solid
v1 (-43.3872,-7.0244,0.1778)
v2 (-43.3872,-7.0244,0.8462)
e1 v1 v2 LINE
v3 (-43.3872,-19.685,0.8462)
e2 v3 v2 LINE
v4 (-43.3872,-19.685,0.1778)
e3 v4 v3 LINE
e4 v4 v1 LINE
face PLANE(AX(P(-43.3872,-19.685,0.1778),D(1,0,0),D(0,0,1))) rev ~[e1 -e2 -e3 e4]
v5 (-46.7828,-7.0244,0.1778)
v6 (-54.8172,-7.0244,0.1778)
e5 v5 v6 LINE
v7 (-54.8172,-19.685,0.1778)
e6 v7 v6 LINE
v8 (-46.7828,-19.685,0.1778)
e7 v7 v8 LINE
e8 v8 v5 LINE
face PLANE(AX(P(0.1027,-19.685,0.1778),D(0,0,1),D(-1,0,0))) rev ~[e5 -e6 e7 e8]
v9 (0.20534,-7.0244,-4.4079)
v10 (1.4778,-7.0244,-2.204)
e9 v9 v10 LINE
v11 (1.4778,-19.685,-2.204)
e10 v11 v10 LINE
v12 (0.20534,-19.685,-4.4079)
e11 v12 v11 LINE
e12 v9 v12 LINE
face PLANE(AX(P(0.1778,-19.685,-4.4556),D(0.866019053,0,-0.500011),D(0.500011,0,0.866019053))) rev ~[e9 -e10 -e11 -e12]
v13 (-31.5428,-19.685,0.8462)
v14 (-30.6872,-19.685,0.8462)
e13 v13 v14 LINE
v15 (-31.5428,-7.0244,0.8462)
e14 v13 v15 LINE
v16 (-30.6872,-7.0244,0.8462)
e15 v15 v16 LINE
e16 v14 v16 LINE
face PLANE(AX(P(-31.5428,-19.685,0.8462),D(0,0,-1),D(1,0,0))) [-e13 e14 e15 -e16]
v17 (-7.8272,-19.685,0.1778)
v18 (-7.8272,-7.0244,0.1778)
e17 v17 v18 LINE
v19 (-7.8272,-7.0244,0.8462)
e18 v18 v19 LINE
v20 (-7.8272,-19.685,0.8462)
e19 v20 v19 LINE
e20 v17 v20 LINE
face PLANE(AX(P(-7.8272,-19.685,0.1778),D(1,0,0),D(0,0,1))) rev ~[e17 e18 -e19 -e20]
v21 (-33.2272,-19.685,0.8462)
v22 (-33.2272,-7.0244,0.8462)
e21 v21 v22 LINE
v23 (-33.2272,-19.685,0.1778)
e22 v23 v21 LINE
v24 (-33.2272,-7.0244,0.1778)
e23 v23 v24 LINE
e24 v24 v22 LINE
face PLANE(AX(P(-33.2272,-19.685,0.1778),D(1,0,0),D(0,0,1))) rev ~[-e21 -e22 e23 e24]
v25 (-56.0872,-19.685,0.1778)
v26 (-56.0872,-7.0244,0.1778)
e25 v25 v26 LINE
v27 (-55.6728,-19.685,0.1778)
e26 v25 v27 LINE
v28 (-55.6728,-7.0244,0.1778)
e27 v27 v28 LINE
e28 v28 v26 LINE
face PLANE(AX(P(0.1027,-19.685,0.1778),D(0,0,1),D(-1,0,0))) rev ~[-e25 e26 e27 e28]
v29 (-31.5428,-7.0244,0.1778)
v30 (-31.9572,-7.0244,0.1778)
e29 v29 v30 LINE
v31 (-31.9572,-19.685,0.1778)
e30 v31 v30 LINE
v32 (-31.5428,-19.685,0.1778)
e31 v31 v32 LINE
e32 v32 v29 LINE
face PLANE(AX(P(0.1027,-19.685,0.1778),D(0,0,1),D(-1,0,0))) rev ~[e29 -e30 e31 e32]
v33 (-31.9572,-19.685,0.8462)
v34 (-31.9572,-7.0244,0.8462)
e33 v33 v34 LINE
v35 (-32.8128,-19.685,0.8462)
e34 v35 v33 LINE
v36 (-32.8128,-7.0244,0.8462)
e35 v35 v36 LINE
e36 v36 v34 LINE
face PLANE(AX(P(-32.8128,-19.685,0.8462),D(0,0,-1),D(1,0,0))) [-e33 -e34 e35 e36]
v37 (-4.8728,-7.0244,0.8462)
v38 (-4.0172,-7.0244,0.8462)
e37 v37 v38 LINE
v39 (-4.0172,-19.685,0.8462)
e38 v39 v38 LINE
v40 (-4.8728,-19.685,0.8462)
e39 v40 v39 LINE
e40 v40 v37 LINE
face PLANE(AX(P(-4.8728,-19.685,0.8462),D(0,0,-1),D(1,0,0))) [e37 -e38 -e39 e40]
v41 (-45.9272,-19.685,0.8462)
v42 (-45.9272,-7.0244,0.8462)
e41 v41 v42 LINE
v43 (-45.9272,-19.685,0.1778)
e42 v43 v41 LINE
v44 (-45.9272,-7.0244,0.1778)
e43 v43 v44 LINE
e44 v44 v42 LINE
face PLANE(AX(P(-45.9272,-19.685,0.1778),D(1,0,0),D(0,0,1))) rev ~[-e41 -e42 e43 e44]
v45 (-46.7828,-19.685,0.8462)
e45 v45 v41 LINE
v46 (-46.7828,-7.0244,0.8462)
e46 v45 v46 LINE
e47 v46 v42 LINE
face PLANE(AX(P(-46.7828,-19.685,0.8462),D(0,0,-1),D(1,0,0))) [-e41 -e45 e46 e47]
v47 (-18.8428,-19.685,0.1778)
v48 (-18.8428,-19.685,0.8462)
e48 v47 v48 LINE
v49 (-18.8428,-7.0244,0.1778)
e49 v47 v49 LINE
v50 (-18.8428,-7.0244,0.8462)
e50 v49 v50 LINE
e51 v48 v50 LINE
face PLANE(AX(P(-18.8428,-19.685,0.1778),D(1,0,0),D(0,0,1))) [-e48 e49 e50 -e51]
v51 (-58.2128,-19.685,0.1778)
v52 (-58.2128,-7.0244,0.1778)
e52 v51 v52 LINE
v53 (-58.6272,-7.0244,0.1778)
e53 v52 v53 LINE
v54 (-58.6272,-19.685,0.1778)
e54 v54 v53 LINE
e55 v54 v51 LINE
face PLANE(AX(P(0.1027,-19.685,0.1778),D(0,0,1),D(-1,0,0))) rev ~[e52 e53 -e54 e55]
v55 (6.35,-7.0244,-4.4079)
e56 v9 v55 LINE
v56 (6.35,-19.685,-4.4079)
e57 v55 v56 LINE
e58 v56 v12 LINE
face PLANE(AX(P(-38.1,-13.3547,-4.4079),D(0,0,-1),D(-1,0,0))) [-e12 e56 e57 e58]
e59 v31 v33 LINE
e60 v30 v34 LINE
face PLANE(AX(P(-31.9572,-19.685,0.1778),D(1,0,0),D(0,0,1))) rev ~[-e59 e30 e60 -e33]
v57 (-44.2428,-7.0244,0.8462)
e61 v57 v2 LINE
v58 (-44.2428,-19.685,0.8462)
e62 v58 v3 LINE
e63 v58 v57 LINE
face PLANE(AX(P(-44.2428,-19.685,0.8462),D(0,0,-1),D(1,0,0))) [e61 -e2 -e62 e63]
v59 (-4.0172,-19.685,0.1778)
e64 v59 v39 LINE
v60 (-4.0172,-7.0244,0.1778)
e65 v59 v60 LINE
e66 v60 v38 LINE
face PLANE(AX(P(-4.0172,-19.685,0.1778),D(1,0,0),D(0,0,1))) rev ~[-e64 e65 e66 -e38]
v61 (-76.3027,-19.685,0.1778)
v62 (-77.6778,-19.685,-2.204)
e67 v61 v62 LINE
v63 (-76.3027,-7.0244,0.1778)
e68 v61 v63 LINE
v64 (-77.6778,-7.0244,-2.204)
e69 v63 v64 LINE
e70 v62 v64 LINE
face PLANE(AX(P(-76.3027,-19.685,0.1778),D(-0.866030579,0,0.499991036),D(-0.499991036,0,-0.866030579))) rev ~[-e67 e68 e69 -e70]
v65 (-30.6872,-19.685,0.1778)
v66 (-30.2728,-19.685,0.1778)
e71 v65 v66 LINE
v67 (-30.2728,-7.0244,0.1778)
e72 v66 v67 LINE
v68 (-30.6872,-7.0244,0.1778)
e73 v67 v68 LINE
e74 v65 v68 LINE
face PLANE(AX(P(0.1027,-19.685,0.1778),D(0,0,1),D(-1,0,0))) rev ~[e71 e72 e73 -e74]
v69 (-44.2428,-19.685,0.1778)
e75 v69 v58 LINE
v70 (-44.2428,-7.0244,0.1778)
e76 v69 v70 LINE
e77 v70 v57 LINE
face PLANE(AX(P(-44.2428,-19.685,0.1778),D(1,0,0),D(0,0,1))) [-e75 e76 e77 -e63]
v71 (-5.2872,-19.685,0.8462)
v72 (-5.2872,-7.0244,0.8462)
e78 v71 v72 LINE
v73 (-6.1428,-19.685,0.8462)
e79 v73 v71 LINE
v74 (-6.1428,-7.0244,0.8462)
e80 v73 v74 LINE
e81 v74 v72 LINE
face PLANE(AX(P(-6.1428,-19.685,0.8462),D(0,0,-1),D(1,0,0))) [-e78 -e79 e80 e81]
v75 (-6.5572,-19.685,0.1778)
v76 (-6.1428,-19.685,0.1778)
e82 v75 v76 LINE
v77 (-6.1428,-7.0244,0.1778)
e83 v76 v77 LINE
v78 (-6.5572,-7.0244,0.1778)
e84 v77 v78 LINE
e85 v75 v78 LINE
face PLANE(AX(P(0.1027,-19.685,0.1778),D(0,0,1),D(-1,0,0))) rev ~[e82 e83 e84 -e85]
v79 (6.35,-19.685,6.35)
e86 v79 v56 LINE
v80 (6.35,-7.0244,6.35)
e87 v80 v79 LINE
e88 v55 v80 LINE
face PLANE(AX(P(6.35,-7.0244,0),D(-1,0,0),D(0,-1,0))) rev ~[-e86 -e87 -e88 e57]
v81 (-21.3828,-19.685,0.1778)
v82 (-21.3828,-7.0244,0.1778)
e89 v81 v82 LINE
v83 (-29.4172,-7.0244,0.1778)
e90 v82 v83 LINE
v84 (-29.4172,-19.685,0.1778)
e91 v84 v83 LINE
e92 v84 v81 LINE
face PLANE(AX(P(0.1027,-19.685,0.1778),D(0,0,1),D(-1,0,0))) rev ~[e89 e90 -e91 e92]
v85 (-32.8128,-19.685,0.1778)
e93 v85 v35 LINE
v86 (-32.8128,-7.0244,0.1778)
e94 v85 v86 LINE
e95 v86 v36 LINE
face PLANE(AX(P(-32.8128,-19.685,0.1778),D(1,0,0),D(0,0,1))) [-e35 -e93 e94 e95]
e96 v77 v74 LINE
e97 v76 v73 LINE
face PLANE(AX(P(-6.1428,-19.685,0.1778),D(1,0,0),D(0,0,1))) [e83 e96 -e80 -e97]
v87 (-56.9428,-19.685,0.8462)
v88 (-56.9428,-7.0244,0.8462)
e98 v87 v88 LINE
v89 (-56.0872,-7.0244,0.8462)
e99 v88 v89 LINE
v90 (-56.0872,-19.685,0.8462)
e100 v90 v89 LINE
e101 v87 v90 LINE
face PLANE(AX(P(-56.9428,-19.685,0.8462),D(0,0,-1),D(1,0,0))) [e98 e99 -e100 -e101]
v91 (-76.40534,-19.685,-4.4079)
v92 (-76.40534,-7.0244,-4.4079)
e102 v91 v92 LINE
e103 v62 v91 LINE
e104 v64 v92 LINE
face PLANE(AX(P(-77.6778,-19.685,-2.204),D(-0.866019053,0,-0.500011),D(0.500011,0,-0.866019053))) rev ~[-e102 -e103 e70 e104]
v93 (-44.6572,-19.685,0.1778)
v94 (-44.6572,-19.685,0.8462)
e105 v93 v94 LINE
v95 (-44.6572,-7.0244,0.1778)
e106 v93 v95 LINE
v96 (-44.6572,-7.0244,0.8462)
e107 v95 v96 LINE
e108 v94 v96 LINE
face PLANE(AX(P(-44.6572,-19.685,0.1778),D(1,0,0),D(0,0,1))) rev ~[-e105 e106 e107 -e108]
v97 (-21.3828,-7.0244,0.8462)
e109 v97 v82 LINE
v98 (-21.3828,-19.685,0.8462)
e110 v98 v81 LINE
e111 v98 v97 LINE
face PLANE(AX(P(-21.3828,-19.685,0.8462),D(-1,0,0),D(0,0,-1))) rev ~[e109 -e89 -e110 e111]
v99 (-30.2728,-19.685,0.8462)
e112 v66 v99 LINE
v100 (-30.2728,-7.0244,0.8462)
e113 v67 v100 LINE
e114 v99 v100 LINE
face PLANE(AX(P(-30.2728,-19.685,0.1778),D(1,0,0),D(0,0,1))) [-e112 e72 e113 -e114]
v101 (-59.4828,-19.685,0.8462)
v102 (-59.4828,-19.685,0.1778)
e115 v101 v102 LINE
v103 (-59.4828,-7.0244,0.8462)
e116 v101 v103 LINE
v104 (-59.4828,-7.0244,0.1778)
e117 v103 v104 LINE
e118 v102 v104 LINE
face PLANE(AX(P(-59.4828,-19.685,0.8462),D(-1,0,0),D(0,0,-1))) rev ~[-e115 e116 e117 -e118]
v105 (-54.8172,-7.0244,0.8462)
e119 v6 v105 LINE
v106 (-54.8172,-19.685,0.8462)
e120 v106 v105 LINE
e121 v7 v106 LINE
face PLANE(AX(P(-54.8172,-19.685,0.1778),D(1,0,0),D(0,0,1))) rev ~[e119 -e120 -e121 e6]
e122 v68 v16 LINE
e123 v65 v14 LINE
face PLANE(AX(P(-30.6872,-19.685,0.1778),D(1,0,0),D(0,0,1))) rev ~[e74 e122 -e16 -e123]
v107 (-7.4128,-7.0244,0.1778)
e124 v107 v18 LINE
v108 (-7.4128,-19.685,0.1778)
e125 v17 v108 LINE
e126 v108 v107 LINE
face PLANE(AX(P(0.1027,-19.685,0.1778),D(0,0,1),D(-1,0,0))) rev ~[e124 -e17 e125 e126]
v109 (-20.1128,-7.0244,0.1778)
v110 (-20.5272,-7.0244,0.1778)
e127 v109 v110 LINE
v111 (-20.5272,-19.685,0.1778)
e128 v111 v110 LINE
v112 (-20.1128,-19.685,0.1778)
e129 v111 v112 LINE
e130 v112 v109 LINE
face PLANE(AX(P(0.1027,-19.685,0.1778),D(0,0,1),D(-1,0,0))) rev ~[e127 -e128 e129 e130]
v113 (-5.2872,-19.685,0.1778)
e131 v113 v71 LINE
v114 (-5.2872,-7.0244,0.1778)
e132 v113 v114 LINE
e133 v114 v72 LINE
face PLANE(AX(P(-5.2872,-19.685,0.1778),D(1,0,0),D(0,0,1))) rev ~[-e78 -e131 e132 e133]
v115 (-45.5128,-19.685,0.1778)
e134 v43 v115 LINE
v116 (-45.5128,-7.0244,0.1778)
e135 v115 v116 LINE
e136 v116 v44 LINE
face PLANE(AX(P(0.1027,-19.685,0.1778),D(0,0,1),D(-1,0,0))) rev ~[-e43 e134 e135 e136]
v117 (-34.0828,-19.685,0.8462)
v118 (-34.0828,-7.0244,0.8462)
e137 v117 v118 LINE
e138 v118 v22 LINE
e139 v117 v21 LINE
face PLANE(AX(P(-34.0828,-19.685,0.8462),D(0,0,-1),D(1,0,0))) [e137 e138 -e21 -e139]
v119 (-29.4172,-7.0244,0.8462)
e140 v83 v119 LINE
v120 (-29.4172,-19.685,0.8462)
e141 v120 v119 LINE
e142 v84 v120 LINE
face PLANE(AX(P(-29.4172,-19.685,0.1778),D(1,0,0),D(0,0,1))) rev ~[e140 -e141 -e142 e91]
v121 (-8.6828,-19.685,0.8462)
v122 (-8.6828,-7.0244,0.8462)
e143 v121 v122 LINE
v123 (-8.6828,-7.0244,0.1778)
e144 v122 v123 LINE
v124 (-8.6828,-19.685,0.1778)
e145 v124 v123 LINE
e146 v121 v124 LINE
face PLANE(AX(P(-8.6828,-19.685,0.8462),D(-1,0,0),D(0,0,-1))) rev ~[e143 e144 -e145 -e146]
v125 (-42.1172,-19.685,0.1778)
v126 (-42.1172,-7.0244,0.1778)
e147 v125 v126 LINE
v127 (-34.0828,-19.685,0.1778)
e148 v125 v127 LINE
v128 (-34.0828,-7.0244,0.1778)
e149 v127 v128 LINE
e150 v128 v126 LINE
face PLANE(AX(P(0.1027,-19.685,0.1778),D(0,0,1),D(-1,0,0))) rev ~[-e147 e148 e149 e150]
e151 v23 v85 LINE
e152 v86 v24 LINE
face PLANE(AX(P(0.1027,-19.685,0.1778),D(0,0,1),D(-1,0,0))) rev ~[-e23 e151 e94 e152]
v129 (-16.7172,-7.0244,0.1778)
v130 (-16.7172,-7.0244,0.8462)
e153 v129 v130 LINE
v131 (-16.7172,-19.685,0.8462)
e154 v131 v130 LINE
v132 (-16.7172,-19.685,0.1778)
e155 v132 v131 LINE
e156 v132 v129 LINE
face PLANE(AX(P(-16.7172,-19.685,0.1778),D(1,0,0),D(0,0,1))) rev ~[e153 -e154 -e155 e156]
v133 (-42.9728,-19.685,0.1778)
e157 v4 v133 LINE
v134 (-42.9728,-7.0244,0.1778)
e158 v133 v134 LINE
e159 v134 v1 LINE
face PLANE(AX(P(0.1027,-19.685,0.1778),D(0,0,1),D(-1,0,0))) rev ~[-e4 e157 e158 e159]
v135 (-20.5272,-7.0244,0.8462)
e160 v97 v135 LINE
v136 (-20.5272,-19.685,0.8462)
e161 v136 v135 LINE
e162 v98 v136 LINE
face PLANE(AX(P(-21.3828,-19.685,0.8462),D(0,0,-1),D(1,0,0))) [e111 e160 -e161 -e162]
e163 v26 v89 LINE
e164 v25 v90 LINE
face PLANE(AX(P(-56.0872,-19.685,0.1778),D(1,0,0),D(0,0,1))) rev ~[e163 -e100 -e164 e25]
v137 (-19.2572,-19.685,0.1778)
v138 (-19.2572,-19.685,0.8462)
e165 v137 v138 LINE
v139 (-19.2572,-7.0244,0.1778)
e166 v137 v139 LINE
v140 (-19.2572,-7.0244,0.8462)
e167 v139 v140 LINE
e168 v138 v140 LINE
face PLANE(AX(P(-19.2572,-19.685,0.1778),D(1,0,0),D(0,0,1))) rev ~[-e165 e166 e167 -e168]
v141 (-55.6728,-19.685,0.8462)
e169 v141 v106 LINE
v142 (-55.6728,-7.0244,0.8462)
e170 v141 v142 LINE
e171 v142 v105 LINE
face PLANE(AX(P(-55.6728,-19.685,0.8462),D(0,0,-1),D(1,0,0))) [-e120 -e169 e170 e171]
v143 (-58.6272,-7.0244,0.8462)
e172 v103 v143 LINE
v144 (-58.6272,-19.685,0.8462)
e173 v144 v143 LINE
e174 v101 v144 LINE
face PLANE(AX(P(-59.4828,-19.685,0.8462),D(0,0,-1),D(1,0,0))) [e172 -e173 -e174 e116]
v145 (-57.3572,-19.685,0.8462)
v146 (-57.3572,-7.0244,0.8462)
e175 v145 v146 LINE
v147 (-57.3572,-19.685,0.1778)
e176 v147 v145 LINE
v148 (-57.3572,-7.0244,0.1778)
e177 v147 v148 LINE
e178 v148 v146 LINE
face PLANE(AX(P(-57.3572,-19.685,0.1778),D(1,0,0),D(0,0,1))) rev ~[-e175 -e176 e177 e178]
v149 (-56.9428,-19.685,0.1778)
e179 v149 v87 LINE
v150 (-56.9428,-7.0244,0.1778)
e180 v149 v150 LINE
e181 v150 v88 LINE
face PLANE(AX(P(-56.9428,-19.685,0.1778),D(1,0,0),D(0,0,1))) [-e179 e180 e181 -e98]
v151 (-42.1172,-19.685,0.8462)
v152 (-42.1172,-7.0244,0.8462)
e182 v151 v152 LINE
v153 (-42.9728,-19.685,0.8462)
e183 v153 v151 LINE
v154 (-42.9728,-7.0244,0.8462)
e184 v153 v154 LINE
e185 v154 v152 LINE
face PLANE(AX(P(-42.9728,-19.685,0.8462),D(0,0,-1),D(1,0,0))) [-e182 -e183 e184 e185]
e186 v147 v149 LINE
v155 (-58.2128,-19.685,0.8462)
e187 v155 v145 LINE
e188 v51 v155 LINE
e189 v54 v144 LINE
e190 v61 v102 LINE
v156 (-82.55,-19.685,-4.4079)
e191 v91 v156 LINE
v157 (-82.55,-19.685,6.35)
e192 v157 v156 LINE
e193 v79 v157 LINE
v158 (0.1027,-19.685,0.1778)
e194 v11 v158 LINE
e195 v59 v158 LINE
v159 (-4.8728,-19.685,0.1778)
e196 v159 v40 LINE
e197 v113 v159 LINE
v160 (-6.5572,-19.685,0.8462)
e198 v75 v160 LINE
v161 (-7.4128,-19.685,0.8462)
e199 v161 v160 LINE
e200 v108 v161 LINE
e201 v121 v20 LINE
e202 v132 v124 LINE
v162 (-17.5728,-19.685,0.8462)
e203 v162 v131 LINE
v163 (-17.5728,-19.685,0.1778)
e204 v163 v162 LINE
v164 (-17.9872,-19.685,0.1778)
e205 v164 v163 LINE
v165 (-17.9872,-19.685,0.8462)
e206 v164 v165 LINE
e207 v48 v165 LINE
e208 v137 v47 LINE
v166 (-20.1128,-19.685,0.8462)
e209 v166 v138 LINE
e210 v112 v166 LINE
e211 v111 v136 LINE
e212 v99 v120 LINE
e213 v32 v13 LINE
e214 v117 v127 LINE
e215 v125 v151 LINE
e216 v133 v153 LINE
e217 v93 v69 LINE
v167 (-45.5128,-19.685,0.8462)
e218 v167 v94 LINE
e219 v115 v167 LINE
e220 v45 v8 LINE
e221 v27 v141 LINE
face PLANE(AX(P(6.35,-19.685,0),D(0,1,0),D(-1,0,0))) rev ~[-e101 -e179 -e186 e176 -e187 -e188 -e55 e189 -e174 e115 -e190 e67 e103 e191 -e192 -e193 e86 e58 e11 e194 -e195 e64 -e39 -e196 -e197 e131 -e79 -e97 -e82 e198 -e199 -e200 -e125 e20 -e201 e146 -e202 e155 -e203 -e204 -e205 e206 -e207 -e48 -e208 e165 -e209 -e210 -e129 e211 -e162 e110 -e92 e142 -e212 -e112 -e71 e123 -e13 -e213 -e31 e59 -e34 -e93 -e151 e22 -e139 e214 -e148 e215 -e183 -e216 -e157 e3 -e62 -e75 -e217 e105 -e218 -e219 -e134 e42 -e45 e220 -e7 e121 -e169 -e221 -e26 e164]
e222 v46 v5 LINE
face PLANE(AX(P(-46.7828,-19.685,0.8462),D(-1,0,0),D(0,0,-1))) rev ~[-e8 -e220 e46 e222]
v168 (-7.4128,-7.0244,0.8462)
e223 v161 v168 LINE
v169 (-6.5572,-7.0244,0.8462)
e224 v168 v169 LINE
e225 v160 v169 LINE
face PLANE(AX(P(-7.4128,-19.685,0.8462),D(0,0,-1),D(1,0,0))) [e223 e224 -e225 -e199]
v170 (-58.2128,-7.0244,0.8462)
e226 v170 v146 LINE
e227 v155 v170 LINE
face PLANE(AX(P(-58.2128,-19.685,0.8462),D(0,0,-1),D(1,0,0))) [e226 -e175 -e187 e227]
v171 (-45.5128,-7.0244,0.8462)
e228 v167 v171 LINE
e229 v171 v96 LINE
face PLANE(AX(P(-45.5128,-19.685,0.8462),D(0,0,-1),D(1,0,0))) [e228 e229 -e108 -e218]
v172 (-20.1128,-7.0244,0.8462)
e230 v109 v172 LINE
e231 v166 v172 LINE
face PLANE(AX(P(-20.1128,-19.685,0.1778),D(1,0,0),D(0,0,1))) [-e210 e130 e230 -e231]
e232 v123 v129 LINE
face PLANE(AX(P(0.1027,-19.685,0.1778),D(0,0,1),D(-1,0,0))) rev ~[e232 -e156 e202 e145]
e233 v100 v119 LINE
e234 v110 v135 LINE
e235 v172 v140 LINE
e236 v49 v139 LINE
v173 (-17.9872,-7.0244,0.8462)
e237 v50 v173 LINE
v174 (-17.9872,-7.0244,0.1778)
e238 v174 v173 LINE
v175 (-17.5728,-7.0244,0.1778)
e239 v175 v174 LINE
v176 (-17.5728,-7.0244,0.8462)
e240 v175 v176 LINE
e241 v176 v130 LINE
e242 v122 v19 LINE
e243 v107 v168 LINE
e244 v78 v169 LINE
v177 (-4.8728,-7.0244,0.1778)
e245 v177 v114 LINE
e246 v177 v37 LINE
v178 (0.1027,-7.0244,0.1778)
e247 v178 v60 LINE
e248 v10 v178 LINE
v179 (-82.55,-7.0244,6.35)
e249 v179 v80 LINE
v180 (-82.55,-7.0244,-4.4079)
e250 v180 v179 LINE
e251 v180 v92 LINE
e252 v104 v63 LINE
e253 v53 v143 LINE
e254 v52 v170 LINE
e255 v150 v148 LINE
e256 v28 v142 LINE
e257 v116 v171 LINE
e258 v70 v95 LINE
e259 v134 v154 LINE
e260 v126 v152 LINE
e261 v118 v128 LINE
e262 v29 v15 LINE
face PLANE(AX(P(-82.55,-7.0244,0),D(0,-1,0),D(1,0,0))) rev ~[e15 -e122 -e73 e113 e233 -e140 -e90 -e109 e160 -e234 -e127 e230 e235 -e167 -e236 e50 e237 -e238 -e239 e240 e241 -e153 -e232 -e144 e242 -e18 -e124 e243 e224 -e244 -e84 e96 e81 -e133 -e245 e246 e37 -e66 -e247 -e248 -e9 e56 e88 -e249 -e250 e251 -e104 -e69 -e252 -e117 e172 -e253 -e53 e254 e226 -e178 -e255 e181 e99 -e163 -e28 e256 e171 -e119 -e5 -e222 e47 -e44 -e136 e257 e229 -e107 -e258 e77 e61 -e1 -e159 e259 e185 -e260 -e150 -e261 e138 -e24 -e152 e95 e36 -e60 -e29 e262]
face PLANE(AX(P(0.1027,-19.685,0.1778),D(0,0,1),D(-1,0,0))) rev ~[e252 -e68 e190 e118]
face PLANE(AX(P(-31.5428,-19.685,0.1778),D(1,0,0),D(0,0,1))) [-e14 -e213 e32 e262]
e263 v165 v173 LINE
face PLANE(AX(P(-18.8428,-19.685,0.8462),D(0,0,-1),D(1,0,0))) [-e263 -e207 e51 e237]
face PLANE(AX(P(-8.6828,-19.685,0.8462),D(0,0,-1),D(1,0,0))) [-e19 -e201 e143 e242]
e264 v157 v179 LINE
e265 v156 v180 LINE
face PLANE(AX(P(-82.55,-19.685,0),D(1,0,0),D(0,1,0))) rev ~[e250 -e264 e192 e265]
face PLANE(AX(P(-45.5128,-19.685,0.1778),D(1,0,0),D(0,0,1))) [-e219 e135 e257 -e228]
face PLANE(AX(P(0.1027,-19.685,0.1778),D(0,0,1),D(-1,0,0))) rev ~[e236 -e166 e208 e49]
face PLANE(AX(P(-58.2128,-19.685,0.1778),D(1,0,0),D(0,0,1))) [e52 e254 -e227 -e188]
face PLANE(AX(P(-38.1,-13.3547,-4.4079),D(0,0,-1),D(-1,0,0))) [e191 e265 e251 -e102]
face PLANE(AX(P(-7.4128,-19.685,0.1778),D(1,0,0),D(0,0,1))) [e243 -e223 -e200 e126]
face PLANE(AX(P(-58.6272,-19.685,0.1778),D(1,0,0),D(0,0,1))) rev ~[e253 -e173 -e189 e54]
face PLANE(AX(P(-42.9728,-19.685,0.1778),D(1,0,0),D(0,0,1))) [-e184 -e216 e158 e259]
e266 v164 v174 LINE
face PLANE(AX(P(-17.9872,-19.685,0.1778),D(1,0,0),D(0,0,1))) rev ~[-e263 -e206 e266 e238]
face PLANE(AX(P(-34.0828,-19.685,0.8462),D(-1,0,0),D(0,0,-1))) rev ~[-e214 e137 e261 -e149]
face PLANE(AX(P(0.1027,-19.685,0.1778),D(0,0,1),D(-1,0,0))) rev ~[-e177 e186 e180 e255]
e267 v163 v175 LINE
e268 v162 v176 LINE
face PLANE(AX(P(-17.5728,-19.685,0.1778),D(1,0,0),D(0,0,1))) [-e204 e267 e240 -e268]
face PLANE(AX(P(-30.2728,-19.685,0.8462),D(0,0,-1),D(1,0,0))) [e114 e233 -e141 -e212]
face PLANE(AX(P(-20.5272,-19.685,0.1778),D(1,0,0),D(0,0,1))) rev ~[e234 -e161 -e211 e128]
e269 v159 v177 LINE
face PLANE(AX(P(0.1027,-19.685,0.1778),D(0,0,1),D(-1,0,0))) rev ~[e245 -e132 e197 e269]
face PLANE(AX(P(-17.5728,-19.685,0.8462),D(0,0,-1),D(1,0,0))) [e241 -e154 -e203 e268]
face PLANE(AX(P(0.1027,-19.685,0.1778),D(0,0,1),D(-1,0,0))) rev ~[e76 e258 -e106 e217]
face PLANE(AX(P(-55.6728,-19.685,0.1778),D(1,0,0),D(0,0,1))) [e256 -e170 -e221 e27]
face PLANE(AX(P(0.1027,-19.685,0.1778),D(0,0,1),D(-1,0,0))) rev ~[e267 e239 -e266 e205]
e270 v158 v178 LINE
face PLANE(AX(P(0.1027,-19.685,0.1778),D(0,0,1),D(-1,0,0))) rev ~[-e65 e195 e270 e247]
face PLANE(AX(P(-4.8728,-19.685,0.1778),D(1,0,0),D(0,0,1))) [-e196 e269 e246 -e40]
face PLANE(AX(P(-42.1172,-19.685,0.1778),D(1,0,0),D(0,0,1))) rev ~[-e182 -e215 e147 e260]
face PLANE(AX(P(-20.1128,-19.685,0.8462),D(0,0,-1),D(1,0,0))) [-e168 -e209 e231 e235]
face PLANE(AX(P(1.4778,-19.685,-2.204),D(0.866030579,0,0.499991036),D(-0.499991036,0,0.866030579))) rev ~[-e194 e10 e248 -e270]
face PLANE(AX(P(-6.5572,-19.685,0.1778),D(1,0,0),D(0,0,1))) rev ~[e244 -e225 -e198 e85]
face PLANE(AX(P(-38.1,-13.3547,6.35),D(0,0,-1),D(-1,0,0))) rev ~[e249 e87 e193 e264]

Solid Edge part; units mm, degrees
sketch "Sketch1" plane through (0, 0, 0) normal (0, 0, 1) x (1, 0, 0)
  line L0 (6.35, -7.0244) -> (6.35, -19.685)
  line L1 (6.35, -19.685) -> (-82.55, -19.685)
  line L2 (-82.55, -19.685) -> (-82.55, -7.0244)
  line L3 (-82.55, -7.0244) -> (6.35, -7.0244)
extrude "Protrusion1" add sketch "Sketch1" against normal up to vertex (4.4079 mm away)
sketch "Sketch2" plane through (0, 0, 0) normal (0, 0, 1) x (1, 0, 0)
  line L0 (6.35, -19.685) -> (-82.55, -19.685)
  line L1 (-82.55, -19.685) -> (-82.55, -7.0244)
  line L2 (-82.55, -7.0244) -> (6.35, -7.0244)
  line L3 (6.35, -7.0244) -> (6.35, -19.685)
extrude "Protrusion2" add sketch "Sketch2" along normal blind 6.35
sketch "Sketch3" plane through (-38.1, -19.685, 0.971) normal (0, -1, 0) x (1, 0, 0)
  line L0 (38.2778, -11.6851) -> (38.2778, -5.4266)
  line L1 (38.2778, -5.4266) -> (39.5778, -3.175)
  line L2 (39.5778, -3.175) -> (38.2027, -0.7932)
  line L3 (38.2027, -0.7932) -> (34.0828, -0.7932)
  line L4 (34.0828, -0.7932) -> (-38.2027, -0.7932)
  line L5 (-38.2027, -0.7932) -> (-39.5778, -3.175)
  line L6 (-39.5778, -3.175) -> (-38.2778, -5.4266)
  line L7 (-38.2778, -5.4266) -> (-38.2778, -11.6851)
  line L8 (-38.2778, -11.6851) -> (38.2778, -11.6851)
extrude "Cutout1" cut sketch "Sketch3" against normal through all
sketch "Sketch4" plane through (-38.1, -19.685, 0.971) normal (0, -1, 0) x (1, 0, 0)
  line L0 (34.0828, -1.6488) -> (34.0828, -0.7932)
  line L1 (34.0828, -0.7932) -> (34.0828, -0.1248)
  line L2 (33.2272, -0.1248) -> (34.0828, -0.1248)
  line L3 (33.2272, -0.7932) -> (33.2272, -0.1248)
  line L4 (33.2272, -0.7932) -> (33.2272, -1.6488)
  line L5 (33.2272, -1.6488) -> (34.0828, -1.6488)
  line L6 (32.8128, -1.6488) -> (32.8128, -0.7932)
  line L7 (32.8128, -0.7932) -> (32.8128, -0.1248)
  line L8 (31.9572, -0.1248) -> (32.8128, -0.1248)
  line L9 (31.9572, -0.7932) -> (31.9572, -0.1248)
  line L10 (31.9572, -0.7932) -> (31.9572, -1.6488)
  line L11 (31.9572, -1.6488) -> (32.8128, -1.6488)
  line L12 (31.5428, -1.6488) -> (30.6872, -1.6488)
  line L13 (30.6872, -1.6488) -> (30.6872, -0.7932)
  line L14 (30.6872, -0.7932) -> (30.6872, -0.1248)
  line L15 (30.6872, -0.1248) -> (31.5428, -0.1248)
  line L16 (31.5428, -0.7932) -> (31.5428, -0.1248)
  line L17 (31.5428, -0.7932) -> (31.5428, -1.6488)
  line L18 (30.2728, -1.6488) -> (29.4172, -1.6488)
  line L19 (29.4172, -1.6488) -> (29.4172, -0.7932)
  line L20 (29.4172, -0.1248) -> (29.4172, -0.7932)
  line L21 (29.4172, -0.1248) -> (30.2728, -0.1248)
  line L22 (30.2728, -0.7932) -> (30.2728, -0.1248)
  line L23 (30.2728, -0.7932) -> (30.2728, -1.6488)
  dimension "D1" = 0.1778
  dimension "D2" = 0.1778
  dimension "D3" = 0.1778
  dimension "D4" = 0.1778
  dimension "D5" = 1.524
extrude "Cutout2" cut sketch "Sketch4" against normal through all
pattern_linear "Pattern1" count 5 spacing 12.7 along (-1, 0, 0) of "Cutout2"
